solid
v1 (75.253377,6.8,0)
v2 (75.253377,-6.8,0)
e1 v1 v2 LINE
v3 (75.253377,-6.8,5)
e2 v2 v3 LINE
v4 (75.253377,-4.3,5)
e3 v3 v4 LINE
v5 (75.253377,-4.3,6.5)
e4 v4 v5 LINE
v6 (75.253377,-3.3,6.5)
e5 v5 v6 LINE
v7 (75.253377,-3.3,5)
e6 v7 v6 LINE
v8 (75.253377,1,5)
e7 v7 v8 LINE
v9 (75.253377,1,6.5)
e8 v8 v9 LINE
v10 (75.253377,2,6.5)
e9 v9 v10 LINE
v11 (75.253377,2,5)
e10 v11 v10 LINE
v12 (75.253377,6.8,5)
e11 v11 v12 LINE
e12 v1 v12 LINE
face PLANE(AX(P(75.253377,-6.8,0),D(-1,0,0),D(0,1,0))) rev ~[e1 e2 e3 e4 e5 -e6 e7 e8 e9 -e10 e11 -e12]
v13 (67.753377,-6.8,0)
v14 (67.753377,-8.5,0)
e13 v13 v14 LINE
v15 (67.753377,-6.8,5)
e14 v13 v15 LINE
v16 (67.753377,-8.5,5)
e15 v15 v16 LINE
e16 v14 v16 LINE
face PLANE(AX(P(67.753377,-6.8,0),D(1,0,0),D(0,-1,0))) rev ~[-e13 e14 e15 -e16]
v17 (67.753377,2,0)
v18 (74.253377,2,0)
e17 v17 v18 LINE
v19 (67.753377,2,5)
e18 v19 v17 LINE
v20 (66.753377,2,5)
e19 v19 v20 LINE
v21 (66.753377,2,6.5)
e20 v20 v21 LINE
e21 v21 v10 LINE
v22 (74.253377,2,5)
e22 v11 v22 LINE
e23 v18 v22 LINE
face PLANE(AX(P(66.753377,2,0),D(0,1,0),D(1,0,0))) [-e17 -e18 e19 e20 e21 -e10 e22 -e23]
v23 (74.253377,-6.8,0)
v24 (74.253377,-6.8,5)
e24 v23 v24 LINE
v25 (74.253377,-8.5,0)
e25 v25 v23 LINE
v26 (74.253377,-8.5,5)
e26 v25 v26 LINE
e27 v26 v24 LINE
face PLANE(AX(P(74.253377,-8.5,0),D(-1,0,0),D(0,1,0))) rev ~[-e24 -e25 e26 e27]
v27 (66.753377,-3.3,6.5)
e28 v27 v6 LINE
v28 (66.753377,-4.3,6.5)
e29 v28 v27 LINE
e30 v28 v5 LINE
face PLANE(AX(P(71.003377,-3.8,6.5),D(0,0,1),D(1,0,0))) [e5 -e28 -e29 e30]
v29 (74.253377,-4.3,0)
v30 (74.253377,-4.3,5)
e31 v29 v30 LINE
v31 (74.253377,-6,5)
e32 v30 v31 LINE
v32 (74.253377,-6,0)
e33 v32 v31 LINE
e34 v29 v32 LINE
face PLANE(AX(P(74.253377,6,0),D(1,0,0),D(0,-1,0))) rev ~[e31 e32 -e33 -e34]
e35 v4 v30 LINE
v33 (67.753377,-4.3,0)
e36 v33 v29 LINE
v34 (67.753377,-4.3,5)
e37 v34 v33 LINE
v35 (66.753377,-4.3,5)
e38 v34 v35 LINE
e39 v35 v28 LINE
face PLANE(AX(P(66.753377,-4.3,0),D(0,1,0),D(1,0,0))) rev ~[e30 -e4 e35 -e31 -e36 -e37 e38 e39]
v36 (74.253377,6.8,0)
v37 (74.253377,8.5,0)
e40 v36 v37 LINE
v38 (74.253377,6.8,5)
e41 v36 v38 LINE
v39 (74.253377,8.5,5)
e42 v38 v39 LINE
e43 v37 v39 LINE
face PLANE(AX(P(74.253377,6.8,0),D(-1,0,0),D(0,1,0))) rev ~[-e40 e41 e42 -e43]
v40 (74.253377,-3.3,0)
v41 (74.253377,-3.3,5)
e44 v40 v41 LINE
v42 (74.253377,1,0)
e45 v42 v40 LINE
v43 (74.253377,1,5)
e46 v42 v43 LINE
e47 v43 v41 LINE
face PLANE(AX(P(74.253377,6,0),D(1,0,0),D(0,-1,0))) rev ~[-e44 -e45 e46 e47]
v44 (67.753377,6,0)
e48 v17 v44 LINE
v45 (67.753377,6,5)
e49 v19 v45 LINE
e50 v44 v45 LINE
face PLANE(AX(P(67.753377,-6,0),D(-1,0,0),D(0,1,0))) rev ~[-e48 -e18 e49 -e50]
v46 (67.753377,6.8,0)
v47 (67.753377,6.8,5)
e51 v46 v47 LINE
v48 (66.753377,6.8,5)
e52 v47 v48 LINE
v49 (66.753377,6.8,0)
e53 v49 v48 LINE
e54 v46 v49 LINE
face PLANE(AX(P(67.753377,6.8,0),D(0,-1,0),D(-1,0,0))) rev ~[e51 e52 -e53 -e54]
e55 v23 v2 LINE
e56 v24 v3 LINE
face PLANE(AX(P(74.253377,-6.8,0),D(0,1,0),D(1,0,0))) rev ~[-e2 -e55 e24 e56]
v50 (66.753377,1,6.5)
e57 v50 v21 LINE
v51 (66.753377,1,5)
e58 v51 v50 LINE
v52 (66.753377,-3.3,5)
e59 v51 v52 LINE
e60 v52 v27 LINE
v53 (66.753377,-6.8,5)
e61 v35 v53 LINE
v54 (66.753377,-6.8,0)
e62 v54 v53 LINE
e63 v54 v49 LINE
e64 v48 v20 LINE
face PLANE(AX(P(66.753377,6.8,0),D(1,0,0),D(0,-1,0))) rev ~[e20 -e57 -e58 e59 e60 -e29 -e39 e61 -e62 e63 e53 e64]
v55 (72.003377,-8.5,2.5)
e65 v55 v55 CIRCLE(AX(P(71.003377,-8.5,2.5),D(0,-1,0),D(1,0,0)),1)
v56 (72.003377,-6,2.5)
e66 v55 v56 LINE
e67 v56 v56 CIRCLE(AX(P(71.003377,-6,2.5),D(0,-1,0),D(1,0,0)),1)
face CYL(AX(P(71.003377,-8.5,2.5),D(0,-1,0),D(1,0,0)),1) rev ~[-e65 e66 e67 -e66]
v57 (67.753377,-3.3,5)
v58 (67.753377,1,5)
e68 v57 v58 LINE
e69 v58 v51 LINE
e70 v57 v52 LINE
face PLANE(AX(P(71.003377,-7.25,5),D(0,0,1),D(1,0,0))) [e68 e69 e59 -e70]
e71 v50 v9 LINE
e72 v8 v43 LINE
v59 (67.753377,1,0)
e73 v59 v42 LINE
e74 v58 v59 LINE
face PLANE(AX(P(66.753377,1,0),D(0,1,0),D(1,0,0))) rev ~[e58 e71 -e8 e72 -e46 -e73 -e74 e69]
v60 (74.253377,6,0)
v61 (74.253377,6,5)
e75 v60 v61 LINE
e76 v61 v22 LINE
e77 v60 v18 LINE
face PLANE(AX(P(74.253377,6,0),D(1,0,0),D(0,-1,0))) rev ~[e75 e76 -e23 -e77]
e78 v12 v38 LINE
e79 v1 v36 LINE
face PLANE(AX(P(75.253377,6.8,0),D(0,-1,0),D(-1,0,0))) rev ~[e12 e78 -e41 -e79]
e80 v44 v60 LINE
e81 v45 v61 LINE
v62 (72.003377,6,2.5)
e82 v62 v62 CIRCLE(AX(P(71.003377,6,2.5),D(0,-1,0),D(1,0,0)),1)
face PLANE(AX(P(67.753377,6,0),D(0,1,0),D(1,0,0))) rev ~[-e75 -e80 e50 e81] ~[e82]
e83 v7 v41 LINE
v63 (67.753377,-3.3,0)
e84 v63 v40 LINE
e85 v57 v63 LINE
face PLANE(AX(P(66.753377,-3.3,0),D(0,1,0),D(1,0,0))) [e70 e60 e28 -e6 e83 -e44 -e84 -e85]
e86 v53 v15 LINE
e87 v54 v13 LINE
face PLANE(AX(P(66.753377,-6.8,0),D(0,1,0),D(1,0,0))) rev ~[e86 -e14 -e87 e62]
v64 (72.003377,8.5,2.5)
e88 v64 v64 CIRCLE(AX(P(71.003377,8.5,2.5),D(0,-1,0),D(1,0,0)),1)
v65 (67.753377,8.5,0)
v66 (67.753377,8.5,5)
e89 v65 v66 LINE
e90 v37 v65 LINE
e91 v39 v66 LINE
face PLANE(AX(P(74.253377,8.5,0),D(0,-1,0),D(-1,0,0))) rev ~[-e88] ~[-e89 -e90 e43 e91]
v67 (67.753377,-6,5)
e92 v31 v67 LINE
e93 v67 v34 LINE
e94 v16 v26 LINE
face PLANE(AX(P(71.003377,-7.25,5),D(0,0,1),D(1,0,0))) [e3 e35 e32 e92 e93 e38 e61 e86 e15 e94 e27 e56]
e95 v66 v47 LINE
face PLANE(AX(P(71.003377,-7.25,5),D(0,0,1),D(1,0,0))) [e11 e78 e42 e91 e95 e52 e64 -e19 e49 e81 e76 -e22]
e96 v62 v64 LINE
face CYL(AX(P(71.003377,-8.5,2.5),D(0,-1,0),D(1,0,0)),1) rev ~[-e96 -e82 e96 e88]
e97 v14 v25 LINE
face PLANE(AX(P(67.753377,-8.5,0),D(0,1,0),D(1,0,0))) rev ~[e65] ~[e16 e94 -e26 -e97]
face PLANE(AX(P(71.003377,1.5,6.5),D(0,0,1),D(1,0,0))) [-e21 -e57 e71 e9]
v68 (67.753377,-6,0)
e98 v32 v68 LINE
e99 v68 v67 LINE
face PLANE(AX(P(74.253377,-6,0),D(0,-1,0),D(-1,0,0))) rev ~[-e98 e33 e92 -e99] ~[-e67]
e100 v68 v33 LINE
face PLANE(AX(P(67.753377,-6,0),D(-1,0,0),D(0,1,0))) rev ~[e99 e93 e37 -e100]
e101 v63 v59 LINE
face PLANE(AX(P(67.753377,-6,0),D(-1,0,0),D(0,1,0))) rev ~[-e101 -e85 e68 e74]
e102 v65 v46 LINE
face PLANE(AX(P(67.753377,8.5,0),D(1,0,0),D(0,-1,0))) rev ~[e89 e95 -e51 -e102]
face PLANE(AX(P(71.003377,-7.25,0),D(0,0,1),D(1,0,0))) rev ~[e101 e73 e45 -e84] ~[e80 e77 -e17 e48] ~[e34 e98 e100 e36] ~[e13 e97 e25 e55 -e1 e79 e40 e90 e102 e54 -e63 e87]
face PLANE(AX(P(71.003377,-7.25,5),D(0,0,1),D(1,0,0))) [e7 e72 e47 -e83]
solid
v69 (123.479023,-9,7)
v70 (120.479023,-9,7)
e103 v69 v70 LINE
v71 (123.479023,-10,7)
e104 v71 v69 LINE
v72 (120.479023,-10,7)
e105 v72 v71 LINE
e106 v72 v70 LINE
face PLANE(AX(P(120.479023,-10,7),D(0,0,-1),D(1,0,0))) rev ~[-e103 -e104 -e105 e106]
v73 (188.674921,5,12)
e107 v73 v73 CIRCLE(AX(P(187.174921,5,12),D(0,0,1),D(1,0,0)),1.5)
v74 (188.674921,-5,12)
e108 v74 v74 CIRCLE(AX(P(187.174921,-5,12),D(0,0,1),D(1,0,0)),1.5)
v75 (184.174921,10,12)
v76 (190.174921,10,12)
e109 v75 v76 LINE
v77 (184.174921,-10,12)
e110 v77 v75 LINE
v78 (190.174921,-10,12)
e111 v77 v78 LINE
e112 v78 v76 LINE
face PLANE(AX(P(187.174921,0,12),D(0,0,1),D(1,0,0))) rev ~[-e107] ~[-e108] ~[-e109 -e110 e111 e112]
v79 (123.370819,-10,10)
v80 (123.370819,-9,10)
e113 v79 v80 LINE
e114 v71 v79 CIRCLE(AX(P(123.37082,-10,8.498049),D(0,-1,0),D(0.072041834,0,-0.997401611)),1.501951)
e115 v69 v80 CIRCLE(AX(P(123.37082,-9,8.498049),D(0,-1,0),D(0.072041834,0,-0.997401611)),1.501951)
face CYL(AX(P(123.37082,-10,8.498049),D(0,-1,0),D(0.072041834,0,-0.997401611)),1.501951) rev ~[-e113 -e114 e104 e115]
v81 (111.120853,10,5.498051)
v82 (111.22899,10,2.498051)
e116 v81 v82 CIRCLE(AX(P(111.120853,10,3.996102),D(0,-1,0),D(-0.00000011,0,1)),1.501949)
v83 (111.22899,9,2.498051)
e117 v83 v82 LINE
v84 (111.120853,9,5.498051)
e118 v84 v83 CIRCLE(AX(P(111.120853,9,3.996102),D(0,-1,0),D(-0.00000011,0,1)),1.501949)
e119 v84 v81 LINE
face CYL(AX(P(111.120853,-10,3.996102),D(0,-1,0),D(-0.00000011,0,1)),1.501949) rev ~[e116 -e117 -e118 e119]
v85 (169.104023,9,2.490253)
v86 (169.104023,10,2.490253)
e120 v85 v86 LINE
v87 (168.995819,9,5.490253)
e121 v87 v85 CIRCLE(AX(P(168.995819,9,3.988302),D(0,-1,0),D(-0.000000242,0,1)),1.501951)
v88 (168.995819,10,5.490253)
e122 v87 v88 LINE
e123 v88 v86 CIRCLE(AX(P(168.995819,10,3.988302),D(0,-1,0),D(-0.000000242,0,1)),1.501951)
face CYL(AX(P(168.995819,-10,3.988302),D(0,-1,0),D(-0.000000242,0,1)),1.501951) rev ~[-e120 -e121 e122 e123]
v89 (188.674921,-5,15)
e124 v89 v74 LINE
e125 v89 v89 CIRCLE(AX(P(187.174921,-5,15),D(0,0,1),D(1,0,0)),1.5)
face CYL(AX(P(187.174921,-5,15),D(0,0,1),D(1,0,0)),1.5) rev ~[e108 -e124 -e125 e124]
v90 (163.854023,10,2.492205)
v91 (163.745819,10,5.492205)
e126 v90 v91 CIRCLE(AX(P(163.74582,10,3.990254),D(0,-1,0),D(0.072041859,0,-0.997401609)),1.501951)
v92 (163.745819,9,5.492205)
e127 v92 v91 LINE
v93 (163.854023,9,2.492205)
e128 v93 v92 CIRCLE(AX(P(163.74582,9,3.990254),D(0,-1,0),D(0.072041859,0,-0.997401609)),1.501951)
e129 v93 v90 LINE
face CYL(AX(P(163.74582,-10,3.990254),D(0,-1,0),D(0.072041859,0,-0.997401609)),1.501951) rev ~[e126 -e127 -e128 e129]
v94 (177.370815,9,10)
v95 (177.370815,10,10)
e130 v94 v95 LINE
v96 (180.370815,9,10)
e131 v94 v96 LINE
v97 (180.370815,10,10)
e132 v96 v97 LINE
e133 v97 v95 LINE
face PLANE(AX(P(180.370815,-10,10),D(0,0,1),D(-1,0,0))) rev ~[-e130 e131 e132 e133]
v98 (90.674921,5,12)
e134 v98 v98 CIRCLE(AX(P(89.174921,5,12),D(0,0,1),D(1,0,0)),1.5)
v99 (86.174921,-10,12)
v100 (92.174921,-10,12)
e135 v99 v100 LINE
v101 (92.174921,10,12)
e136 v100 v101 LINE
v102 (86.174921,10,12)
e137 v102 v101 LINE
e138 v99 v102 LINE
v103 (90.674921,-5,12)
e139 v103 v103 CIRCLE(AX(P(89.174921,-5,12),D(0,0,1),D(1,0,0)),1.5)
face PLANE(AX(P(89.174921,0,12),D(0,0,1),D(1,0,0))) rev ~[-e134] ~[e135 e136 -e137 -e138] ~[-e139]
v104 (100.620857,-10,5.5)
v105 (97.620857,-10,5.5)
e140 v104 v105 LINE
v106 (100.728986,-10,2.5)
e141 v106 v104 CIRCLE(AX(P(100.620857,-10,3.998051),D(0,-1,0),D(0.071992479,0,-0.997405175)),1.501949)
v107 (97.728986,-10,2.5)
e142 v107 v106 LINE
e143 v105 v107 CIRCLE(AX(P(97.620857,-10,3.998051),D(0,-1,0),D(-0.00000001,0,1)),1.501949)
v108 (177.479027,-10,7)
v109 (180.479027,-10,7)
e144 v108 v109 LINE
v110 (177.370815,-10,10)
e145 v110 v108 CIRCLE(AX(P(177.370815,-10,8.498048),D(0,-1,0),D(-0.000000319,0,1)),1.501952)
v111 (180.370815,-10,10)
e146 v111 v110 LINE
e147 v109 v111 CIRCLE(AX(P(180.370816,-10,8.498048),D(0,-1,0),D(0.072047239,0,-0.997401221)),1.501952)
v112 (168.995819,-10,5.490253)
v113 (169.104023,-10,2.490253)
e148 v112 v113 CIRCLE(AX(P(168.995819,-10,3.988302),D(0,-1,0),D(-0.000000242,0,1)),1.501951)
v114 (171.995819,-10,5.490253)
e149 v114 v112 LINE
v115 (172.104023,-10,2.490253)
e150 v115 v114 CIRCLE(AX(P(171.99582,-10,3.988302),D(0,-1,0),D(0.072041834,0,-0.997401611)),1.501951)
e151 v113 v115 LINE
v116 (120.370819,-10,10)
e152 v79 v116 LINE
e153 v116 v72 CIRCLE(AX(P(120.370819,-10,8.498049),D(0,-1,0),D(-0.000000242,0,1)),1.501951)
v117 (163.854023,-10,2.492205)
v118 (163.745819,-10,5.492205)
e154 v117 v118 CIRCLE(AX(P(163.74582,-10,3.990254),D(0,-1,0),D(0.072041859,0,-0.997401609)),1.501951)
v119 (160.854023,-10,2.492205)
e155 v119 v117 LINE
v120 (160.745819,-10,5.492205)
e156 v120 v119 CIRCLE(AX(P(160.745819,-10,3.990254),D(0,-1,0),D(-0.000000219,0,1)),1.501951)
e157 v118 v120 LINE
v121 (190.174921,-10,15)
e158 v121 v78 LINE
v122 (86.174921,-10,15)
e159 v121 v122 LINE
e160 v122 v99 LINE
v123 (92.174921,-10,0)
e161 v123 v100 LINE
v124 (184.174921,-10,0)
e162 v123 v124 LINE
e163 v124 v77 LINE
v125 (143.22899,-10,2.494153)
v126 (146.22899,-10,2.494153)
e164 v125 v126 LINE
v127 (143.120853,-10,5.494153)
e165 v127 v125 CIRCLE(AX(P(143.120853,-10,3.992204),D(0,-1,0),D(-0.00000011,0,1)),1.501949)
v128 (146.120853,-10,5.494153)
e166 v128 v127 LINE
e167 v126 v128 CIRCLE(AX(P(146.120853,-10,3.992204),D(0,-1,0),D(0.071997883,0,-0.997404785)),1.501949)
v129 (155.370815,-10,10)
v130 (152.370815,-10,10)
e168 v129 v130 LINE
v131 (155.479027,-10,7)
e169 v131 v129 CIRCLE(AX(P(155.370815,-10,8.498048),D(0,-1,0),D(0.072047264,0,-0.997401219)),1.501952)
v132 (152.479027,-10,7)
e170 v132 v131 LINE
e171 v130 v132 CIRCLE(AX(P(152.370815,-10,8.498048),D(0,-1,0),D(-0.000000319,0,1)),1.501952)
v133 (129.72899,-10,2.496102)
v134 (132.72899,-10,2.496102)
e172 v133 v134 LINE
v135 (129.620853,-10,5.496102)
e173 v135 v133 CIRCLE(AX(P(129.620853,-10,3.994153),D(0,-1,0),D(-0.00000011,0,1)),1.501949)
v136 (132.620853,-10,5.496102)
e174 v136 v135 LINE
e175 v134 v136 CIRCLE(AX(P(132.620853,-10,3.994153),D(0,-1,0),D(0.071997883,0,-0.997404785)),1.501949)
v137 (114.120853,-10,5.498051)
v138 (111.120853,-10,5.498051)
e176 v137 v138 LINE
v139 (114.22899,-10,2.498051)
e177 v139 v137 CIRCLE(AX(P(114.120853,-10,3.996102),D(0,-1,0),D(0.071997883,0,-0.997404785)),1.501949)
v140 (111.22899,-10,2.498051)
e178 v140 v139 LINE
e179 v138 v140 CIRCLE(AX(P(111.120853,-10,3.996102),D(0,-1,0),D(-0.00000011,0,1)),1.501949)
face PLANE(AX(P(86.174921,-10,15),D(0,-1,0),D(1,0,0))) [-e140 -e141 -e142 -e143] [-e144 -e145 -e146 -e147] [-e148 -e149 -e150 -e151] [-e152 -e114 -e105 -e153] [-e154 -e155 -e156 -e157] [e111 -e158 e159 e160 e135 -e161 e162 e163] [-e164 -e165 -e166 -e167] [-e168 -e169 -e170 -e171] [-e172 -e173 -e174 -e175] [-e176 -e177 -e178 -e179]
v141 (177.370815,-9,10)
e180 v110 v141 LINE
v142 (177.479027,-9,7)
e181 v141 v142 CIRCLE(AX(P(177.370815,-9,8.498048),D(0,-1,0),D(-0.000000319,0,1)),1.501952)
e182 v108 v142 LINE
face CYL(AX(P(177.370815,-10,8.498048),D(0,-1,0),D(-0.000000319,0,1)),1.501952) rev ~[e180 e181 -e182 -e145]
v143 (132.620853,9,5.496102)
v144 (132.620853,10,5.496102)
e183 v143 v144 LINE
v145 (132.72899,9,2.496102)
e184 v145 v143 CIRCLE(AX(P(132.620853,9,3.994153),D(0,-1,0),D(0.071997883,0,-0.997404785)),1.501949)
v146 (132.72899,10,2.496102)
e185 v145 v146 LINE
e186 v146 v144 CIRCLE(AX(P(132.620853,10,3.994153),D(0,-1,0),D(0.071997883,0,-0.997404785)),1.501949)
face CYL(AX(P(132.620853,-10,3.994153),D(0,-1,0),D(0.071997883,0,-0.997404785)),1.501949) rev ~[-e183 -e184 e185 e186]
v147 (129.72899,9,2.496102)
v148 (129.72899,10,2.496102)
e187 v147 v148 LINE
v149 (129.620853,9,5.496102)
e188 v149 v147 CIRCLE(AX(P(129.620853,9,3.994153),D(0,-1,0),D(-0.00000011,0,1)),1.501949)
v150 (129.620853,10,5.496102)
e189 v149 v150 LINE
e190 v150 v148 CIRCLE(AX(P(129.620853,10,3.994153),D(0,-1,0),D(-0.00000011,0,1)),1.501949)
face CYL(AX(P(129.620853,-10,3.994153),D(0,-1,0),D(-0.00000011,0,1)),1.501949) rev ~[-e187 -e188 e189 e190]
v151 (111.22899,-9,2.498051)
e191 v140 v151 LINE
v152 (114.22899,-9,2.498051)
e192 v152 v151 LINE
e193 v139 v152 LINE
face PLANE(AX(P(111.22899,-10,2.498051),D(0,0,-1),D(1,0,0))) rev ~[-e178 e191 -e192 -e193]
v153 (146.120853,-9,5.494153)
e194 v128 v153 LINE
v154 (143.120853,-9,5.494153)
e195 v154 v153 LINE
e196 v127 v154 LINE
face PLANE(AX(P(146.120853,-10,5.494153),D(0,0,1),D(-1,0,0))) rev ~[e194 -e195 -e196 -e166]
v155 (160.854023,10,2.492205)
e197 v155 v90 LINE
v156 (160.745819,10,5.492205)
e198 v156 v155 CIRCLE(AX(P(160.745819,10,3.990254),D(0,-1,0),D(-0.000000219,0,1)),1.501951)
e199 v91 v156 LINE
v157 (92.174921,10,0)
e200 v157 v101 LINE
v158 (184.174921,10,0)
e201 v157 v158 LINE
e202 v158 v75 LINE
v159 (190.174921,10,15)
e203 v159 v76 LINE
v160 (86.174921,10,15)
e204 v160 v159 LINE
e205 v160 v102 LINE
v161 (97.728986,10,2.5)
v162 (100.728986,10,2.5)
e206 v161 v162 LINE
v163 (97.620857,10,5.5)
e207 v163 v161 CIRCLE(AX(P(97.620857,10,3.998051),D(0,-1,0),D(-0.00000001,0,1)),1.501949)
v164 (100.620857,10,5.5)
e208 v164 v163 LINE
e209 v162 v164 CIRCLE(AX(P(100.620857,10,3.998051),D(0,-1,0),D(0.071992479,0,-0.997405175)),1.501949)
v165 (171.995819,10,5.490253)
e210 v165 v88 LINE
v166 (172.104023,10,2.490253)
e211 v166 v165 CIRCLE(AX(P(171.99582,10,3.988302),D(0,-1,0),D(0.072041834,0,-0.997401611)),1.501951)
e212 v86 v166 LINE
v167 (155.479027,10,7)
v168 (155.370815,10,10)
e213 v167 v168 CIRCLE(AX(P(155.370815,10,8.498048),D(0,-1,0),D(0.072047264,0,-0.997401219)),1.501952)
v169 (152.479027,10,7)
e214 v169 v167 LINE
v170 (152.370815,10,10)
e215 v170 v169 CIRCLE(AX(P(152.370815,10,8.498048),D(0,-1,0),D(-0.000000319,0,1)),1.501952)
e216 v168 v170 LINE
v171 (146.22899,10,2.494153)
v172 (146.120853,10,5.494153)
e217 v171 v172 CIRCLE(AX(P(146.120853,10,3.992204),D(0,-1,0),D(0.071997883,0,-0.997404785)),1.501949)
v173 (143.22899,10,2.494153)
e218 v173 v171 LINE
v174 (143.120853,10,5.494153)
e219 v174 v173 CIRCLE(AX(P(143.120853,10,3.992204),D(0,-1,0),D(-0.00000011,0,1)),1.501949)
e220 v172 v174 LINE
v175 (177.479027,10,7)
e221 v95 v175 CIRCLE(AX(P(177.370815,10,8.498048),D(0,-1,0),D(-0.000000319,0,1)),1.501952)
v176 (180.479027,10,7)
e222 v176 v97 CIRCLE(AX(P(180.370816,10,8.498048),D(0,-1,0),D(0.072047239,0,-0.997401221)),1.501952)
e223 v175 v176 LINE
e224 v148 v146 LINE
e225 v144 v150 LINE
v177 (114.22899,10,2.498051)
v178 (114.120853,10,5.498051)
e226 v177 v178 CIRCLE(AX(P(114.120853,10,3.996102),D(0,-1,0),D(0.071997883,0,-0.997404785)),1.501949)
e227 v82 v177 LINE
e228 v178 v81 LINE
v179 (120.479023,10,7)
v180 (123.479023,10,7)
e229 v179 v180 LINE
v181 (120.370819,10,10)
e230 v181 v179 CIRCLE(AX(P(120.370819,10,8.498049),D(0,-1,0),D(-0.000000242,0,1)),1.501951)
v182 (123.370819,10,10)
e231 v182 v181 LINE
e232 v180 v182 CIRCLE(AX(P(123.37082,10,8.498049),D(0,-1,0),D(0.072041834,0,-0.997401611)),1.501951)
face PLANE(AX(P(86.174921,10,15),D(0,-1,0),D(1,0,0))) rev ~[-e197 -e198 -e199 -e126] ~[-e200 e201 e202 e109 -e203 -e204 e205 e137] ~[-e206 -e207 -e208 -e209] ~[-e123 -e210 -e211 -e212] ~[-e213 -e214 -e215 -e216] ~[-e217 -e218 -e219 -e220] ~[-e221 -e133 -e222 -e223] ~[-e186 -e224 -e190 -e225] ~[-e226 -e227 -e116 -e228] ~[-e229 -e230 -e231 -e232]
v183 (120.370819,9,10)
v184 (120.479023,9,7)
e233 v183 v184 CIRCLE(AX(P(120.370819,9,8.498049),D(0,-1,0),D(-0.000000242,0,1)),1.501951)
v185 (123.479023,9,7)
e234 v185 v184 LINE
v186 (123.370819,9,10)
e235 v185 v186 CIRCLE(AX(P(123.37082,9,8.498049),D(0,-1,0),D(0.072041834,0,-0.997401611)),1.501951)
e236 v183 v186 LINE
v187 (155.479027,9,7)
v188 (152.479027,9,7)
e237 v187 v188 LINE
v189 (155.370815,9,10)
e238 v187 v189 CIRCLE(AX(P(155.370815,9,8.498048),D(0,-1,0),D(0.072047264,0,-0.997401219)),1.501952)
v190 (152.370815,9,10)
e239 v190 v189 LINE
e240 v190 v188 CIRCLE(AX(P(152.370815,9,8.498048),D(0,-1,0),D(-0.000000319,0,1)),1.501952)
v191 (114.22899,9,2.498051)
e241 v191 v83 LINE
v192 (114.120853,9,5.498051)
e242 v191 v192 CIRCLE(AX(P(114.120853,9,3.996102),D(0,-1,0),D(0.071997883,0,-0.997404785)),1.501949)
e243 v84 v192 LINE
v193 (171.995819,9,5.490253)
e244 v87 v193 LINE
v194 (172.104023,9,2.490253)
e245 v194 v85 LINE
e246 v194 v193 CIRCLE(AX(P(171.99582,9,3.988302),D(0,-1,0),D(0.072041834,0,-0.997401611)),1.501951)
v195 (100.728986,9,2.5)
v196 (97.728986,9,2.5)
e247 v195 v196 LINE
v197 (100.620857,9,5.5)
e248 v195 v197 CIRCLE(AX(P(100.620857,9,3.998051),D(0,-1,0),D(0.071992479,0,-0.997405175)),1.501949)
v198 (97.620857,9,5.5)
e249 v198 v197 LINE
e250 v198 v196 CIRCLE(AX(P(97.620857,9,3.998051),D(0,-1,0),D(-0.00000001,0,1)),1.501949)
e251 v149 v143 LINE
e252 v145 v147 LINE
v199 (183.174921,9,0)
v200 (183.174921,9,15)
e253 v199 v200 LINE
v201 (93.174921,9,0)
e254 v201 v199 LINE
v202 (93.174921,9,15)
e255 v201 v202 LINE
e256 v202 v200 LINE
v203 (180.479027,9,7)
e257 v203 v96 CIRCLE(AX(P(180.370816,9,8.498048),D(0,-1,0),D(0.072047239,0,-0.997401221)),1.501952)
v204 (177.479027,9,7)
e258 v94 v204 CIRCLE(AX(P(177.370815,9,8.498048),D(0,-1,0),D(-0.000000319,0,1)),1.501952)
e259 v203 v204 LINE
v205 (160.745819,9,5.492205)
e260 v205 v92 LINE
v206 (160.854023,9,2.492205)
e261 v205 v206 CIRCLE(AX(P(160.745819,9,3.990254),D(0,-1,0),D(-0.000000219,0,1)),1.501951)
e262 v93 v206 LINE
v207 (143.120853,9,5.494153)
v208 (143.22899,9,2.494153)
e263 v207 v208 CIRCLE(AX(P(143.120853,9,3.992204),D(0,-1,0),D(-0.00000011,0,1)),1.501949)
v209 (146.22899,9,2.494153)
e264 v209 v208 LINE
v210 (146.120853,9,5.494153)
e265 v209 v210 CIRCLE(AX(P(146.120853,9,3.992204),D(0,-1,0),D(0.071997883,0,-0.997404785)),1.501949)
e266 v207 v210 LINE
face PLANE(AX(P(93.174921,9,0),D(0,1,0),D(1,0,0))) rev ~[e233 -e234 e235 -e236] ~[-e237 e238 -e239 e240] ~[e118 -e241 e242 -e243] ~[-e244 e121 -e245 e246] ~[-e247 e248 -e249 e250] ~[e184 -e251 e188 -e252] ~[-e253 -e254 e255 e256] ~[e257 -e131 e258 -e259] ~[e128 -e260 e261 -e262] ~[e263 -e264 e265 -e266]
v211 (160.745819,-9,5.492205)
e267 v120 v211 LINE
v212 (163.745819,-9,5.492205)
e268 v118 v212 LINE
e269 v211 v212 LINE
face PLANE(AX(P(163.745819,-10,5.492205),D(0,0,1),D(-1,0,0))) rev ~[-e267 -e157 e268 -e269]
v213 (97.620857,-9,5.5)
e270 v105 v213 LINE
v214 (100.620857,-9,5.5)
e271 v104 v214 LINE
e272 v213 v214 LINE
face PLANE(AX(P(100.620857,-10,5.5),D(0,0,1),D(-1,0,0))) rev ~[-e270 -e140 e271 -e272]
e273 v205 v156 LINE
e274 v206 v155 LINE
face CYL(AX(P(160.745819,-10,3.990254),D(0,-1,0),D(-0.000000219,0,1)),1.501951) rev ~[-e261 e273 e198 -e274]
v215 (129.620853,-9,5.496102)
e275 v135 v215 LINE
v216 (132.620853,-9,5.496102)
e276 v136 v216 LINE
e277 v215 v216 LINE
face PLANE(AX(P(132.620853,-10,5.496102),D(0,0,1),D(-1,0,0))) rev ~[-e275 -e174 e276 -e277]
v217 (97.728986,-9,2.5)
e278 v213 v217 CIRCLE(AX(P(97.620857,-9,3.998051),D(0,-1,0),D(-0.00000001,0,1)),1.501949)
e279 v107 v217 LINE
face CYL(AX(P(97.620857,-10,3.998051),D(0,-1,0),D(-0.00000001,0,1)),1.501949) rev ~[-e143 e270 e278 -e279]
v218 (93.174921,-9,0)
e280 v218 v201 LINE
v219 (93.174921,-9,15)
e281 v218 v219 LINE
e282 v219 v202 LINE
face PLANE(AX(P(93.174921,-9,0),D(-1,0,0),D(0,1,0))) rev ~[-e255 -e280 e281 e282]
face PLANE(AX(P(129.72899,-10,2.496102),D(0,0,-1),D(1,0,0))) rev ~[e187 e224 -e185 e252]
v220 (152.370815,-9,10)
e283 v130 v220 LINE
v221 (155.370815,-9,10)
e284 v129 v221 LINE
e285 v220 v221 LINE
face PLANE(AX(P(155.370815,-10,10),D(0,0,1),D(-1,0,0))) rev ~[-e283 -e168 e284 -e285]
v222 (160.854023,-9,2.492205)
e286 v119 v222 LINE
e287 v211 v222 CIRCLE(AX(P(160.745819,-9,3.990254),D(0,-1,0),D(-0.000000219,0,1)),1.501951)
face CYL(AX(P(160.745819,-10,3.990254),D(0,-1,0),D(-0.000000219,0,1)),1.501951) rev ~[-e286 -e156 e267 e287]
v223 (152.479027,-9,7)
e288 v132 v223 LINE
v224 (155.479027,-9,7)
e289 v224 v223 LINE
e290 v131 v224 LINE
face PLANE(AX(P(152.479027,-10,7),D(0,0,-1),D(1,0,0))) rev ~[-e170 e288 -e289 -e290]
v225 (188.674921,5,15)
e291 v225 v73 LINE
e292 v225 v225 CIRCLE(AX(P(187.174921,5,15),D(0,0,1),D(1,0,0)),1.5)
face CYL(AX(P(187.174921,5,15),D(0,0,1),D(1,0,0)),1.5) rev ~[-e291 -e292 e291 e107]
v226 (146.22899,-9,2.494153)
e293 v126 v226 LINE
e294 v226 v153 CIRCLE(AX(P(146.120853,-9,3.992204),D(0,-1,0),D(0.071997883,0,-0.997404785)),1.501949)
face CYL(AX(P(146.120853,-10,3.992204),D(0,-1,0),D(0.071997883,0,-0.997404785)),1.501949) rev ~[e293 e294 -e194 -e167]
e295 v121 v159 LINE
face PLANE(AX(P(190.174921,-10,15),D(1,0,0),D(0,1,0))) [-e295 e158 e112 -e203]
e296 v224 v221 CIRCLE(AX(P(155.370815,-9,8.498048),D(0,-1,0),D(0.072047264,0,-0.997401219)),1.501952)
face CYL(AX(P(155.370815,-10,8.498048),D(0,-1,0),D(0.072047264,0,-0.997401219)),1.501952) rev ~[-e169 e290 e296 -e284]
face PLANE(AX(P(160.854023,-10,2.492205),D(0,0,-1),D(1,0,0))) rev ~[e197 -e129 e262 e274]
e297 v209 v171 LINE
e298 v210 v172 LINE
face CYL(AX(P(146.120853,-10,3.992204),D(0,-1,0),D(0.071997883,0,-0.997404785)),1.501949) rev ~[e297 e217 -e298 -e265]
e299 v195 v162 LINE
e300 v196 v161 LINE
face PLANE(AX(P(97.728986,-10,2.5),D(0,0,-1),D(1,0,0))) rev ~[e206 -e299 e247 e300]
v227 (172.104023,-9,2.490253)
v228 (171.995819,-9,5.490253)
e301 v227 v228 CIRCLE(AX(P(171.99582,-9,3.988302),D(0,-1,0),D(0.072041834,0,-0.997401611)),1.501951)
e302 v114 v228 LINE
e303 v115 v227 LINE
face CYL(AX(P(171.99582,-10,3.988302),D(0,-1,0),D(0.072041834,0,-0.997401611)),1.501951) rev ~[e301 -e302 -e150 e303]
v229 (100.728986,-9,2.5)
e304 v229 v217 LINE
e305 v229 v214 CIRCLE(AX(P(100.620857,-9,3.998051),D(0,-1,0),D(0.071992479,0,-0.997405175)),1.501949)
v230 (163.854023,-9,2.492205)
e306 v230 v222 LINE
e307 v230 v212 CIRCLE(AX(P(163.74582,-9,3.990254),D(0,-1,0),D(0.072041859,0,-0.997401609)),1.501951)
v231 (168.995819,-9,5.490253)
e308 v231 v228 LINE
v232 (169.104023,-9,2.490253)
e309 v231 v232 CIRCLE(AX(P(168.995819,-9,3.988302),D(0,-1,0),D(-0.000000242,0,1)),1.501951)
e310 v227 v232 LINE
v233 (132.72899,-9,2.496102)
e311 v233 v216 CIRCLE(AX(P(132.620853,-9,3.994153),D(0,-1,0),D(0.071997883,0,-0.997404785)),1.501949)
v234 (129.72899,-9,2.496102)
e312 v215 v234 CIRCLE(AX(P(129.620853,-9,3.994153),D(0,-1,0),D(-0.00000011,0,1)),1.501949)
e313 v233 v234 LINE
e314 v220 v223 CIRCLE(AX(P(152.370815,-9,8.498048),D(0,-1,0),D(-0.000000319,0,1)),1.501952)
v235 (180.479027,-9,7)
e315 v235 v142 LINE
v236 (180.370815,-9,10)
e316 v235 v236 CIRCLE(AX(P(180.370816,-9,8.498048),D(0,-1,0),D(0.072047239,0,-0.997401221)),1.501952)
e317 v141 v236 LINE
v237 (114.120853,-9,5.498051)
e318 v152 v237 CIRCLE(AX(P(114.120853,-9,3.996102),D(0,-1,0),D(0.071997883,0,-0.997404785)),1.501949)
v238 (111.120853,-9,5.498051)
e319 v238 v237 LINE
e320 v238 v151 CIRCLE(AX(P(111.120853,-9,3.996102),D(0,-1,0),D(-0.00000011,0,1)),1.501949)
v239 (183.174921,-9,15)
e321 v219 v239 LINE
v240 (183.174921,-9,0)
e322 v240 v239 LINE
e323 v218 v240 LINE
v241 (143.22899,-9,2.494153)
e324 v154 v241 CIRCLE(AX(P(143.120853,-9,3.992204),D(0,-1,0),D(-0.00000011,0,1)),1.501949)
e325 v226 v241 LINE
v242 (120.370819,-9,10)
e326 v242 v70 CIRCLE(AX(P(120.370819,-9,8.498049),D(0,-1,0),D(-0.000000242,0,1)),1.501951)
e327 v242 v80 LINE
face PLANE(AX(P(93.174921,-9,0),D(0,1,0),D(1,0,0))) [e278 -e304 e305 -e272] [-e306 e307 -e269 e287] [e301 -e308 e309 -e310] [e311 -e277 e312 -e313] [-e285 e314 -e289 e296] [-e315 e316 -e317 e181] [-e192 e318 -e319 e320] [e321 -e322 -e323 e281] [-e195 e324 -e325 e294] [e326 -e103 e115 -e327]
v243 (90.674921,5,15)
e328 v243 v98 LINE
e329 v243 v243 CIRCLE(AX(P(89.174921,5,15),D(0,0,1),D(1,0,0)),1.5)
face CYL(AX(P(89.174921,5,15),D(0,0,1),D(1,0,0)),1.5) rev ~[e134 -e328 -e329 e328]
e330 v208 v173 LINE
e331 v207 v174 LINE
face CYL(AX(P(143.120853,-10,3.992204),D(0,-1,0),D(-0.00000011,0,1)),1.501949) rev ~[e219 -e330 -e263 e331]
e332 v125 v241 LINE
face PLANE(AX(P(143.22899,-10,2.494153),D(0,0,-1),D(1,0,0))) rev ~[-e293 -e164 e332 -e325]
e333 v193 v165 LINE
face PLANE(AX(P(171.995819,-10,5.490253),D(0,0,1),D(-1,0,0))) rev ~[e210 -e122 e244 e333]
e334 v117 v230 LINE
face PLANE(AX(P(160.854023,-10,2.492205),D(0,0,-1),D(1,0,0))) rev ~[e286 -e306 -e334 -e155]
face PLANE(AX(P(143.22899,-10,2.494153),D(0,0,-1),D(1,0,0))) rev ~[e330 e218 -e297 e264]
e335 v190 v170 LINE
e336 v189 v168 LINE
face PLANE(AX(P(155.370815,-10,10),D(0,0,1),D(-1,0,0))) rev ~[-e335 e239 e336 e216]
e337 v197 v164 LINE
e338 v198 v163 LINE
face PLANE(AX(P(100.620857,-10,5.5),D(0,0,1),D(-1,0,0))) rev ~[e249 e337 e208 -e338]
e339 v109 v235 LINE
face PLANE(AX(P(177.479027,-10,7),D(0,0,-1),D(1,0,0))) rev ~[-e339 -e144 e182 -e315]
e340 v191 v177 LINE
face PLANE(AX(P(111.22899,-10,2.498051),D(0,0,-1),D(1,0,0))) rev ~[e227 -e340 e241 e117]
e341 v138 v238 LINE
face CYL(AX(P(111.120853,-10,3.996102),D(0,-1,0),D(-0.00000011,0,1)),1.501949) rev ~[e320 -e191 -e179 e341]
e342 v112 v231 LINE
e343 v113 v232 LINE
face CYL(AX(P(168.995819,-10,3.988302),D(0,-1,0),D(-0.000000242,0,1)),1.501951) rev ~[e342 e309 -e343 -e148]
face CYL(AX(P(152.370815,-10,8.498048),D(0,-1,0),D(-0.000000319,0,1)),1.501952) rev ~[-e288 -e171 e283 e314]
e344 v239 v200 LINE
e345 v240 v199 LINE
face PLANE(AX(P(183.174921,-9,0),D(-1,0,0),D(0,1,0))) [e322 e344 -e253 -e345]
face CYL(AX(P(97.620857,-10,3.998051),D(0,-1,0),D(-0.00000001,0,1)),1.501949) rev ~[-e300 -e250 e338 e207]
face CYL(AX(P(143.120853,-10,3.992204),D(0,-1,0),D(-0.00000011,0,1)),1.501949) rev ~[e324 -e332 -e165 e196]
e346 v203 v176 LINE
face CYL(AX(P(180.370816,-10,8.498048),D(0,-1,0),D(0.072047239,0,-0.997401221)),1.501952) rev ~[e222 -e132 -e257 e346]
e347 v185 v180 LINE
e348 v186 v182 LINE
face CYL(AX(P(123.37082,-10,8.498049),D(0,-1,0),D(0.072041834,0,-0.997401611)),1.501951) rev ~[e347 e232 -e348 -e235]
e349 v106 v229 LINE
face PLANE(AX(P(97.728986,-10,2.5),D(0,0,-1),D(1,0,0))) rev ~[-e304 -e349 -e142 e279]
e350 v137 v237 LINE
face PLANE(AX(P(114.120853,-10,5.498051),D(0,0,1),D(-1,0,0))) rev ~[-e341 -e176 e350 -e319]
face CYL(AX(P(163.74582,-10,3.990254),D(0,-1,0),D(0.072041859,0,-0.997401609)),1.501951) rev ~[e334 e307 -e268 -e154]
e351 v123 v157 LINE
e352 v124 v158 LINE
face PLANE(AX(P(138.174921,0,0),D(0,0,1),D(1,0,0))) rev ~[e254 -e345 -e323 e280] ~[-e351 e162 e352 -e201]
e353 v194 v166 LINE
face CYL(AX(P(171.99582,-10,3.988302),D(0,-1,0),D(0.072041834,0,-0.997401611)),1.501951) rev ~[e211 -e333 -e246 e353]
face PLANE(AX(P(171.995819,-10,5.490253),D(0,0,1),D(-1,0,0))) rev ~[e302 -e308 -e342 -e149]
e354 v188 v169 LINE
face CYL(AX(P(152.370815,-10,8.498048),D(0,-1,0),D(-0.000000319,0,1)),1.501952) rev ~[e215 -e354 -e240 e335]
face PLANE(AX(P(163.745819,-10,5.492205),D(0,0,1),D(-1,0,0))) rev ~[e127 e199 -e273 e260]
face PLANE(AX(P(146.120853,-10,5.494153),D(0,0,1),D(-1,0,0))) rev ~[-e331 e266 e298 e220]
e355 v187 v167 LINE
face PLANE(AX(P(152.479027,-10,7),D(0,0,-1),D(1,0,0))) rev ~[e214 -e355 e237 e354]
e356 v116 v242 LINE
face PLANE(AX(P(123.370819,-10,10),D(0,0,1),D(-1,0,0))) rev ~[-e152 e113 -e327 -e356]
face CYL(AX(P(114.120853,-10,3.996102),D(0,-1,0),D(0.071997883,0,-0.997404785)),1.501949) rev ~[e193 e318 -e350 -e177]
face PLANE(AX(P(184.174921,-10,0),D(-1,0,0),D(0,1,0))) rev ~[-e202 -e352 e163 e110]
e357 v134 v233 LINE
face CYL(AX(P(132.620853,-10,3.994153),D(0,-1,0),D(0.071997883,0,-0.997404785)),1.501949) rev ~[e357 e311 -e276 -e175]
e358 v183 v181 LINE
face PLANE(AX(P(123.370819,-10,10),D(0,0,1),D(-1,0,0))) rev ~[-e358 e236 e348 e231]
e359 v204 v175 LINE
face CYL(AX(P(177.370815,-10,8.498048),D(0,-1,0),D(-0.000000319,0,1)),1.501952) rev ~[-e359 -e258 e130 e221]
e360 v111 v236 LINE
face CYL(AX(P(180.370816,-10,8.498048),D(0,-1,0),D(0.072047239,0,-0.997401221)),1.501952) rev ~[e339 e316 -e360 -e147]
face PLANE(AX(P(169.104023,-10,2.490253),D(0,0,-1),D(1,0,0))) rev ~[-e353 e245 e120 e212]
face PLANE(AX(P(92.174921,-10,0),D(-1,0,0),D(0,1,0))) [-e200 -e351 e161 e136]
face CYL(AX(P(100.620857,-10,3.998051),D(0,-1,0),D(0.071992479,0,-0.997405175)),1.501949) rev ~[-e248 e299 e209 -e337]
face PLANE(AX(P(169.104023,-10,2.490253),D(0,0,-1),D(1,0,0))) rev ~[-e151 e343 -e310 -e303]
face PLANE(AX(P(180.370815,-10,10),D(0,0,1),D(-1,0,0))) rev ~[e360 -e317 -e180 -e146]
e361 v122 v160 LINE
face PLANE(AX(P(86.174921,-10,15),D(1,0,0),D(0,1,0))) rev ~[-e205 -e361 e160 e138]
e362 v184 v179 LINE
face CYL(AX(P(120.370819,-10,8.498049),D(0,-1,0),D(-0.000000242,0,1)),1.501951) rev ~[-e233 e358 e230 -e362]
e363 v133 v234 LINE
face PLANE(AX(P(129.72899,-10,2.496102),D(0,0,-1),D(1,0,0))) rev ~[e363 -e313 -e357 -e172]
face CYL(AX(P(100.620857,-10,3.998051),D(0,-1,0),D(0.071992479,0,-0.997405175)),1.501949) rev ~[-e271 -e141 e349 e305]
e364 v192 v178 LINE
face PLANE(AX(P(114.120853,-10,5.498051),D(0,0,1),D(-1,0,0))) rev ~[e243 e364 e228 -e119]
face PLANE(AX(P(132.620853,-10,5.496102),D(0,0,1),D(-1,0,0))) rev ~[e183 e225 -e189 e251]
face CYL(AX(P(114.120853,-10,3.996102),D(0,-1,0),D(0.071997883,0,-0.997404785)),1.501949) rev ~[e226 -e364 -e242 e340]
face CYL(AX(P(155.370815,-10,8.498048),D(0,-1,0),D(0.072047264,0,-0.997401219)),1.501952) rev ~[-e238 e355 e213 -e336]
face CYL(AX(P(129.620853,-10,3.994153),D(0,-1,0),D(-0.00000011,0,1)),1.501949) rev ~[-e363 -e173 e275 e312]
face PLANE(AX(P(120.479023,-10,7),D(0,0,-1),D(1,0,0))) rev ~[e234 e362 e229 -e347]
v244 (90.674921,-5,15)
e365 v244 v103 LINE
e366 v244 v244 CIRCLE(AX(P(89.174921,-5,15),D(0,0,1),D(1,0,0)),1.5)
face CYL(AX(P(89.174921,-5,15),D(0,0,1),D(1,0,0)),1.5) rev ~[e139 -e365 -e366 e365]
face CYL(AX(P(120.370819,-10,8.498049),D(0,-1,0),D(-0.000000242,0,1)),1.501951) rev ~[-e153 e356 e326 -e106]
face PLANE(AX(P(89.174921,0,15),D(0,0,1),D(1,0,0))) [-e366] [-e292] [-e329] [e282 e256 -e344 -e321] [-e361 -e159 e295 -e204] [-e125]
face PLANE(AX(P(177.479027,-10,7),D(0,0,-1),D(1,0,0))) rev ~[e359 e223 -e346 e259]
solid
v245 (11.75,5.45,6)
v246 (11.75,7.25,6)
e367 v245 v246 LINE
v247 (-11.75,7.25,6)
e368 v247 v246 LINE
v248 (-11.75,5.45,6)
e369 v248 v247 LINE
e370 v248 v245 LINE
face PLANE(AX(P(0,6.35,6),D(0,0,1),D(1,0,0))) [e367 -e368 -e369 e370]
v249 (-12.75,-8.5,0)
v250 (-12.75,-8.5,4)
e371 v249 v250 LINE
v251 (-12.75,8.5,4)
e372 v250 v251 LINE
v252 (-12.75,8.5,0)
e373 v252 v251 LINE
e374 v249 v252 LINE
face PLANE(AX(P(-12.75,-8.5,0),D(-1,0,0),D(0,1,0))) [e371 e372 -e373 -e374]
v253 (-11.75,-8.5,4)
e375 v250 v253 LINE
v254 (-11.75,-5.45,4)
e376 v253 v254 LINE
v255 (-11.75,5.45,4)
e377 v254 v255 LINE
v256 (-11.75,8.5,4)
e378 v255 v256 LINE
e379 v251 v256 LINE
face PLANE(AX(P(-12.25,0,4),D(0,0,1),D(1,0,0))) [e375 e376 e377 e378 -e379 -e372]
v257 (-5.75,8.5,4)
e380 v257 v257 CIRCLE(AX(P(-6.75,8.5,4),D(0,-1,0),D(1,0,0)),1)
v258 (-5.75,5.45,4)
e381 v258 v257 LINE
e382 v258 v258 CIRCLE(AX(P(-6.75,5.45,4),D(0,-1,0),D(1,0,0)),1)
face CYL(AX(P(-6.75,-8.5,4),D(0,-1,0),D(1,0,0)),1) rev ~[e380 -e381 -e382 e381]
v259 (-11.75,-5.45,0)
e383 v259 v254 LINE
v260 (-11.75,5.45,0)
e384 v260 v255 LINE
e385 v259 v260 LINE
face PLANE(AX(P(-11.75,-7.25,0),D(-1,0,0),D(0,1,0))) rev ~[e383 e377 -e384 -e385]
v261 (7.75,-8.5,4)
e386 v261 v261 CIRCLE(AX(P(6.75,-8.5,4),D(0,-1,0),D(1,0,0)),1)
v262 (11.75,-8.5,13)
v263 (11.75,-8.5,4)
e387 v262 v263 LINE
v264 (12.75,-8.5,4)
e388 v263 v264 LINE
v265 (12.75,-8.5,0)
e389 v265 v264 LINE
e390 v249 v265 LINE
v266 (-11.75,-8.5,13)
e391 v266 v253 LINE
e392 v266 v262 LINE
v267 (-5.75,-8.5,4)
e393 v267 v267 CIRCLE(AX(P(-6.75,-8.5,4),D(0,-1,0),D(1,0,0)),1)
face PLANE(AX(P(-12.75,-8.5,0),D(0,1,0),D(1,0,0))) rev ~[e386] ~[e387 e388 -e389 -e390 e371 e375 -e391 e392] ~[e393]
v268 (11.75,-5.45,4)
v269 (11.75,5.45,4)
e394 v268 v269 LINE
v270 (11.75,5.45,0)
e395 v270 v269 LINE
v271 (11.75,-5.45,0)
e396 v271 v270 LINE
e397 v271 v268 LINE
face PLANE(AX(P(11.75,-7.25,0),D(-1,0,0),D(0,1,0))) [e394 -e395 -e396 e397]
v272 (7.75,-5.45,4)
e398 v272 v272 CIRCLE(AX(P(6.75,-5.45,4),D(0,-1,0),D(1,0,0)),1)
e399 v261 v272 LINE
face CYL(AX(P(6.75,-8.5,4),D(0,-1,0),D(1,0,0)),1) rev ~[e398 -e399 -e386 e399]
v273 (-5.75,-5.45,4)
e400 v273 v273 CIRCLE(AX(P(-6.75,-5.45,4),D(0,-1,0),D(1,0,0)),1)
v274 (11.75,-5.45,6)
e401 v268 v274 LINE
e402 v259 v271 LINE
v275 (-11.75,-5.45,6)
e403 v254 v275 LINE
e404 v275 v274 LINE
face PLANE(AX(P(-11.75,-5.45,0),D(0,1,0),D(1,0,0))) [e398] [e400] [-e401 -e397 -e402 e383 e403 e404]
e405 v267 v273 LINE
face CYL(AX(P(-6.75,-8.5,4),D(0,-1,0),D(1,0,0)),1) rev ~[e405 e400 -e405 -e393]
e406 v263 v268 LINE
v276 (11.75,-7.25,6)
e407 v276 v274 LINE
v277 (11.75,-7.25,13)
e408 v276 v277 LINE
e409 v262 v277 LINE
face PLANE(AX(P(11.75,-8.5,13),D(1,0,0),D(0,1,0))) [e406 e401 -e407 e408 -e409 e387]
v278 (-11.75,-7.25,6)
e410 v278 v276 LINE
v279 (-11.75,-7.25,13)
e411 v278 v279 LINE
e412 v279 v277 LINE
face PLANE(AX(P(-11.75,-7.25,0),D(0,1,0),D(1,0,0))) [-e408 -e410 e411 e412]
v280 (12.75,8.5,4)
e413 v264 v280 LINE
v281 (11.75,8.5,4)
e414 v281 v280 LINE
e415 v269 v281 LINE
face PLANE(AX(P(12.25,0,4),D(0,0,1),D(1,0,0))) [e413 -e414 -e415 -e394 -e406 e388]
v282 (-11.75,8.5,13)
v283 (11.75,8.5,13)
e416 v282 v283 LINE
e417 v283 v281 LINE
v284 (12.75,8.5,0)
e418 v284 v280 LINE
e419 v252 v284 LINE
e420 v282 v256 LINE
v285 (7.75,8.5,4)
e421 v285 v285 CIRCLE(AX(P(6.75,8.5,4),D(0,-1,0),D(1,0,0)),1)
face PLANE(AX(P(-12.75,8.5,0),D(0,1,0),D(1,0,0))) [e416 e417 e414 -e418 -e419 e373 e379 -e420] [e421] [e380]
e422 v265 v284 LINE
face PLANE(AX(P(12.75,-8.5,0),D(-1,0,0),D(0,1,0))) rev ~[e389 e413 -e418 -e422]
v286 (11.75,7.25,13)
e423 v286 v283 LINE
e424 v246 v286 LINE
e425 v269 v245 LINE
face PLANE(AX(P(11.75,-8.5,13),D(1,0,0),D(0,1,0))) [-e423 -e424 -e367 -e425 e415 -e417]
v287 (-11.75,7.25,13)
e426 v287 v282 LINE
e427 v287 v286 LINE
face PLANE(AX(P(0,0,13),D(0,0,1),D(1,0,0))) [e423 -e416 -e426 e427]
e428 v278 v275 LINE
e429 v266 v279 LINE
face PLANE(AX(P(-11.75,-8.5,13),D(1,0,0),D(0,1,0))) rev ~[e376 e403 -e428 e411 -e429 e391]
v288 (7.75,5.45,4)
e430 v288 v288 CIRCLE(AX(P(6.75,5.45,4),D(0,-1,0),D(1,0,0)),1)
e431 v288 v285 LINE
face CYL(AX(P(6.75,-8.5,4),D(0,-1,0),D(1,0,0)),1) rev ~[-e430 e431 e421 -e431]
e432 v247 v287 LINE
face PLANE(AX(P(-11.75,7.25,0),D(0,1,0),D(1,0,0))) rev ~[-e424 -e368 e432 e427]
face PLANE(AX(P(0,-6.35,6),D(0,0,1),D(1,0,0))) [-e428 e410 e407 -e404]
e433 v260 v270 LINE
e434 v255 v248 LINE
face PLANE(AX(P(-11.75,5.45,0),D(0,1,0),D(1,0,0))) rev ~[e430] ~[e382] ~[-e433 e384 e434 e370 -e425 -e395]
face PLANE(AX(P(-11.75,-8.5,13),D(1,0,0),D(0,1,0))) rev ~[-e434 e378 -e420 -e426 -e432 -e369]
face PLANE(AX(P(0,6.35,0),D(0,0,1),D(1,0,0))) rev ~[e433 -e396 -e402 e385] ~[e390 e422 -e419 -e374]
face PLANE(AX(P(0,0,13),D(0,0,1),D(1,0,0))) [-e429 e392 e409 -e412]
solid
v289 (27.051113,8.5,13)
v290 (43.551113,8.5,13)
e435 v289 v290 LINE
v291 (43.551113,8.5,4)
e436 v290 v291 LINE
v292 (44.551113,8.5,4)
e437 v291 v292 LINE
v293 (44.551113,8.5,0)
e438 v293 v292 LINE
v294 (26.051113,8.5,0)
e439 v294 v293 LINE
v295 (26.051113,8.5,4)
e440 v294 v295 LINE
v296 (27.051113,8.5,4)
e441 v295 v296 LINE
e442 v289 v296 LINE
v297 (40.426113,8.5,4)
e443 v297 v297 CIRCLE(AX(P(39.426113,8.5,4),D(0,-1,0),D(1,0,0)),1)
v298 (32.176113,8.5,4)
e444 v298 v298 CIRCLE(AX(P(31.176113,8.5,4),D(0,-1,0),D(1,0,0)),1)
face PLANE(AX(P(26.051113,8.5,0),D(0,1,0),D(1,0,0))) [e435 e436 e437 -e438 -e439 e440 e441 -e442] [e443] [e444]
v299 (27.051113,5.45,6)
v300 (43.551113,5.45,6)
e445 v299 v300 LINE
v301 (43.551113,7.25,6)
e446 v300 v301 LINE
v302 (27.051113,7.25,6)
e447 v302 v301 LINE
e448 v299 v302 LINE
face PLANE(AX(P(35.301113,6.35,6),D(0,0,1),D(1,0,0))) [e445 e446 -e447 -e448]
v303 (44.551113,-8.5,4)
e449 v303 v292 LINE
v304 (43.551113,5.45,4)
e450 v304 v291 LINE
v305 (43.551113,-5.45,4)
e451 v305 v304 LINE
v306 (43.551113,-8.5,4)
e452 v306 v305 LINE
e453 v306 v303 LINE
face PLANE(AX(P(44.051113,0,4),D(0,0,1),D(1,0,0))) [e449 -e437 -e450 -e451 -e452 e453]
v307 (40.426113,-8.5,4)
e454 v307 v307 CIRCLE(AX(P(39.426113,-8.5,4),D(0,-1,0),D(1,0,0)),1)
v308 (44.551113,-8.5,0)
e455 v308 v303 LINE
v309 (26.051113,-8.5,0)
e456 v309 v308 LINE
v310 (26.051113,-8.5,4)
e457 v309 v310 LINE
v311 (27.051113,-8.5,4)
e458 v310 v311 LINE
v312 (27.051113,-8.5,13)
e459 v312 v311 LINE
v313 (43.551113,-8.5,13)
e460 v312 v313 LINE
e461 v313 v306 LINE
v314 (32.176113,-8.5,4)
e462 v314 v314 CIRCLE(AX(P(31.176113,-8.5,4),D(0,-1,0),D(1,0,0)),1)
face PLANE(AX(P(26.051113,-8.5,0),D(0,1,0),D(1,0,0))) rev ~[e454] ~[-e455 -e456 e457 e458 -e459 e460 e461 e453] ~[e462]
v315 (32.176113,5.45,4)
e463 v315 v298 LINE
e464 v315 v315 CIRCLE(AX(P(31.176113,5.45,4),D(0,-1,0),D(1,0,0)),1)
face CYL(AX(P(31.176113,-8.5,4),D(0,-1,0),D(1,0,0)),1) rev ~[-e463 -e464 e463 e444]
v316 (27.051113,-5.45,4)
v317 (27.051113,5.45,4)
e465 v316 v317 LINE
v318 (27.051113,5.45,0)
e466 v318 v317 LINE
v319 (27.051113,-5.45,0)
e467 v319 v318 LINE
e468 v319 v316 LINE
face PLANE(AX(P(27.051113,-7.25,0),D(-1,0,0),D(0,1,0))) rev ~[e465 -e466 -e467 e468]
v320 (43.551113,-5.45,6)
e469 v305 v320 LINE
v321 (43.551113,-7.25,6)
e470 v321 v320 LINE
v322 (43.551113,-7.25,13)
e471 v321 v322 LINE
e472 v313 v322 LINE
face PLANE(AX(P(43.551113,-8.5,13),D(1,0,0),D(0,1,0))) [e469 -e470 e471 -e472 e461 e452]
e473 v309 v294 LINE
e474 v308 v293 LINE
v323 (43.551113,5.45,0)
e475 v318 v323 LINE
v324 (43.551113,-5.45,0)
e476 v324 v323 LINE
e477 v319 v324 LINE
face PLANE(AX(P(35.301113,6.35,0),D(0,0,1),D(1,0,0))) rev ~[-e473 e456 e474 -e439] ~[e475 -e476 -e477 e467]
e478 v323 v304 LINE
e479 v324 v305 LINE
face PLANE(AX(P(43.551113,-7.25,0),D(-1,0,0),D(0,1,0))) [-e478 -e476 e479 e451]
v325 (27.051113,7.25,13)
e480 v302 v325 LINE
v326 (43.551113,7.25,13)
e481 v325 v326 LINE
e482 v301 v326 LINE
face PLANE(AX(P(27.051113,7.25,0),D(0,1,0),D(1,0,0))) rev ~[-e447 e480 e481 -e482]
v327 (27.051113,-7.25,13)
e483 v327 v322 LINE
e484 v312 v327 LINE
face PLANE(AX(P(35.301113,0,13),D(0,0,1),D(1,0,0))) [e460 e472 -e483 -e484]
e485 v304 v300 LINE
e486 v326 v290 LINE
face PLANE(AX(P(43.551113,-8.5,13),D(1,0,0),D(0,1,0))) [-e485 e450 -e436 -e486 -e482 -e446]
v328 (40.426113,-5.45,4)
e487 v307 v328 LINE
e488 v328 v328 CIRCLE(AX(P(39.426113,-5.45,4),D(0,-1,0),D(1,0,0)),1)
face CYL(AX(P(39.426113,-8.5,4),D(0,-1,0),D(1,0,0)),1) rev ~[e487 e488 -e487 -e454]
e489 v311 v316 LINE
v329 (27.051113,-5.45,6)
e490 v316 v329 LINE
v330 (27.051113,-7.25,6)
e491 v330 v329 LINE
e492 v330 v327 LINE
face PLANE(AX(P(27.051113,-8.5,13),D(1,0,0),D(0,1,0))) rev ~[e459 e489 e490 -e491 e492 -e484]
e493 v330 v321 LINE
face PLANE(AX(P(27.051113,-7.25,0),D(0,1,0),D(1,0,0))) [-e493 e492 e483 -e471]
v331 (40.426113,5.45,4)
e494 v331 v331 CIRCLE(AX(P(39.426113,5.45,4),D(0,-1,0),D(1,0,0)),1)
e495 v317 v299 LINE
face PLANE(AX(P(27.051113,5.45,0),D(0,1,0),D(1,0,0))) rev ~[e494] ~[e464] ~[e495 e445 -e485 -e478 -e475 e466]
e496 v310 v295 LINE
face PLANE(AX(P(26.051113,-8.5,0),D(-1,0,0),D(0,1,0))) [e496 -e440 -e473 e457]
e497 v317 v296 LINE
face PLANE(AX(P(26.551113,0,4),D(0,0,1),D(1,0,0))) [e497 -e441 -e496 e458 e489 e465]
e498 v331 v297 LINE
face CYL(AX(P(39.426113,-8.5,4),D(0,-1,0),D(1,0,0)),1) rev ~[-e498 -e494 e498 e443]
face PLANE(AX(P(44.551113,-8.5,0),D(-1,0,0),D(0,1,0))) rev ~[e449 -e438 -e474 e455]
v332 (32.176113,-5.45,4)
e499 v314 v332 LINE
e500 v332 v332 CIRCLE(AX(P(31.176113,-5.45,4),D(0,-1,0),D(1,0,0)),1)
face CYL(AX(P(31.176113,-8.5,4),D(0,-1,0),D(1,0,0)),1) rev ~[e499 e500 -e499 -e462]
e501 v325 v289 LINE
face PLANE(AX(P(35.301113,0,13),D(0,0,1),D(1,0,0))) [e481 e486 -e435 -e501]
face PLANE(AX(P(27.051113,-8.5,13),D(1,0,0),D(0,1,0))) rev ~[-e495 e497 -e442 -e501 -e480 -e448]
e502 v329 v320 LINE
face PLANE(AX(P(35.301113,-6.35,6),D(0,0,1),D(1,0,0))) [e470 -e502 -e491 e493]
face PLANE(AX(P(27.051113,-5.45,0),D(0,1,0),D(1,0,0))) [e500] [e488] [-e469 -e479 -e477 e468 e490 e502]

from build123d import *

# Parameters (mm, degrees)
F0_W      = 25.5
F0_H      = 17
F0_W_2    = 23.5
F0_H_2    = 14.5
F0_W_3    = 18.5
F0_W_4    = 16.5
F1_DEPTH  = 13
F2_W      = 23.5
F2_H      = 1.8
F2_W_2    = 16.5
F3_DEPTH  = 6
F4_W      = 1
F4_H      = 17
F5_DEPTH  = 9
F7_DEPTH  = 5
F8_R      = 1
F9_DEPTH  = 25
F10_W     = 8.5
F10_H     = 1
F11_DEPTH = 6.5
F12_W     = 92
F12_H     = 20
F12_W_2   = 90
F12_H_2   = 18
F13_DEPTH = 15
F14_W     = 6
F14_H     = 20
F14_R     = 1.5
F15_DEPTH = 3
F17_DEPTH = 25


with BuildPart() as f1:
    # F0 (on Top) → F1 (new body)
    with BuildSketch(Plane.XY):
        Rectangle(F0_W, F0_H)
        Rectangle(F0_W_2, F0_H_2, mode=Mode.SUBTRACT)
        with Locations((35.301113, 0)):
            Rectangle(F0_W_3, F0_H)
        with Locations((35.301113, 0)):
            Rectangle(F0_W_4, F0_H_2, mode=Mode.SUBTRACT)
    extrude(amount=F1_DEPTH)

    # F2 (on Top) → F3 (join)
    with BuildSketch(Plane.XY):
        with Locations((0, 6.35)):
            Rectangle(F2_W, F2_H)
        with Locations((0, -6.35)):
            Rectangle(F2_W, F2_H)
        with Locations((35.301113, 6.35)):
            Rectangle(F2_W_2, F2_H)
        with Locations((35.301113, -6.35)):
            Rectangle(F2_W_2, F2_H)
    extrude(amount=F3_DEPTH)

    # F4 (on face) → F5 (cut)
    with BuildSketch(Plane.XY.offset(13)):
        with Locations((-12.25, 0)):
            Rectangle(F4_W, F4_H)
        with Locations((12.25, 0)):
            Rectangle(F4_W, F4_H)
        with Locations((26.551113, 0)):
            Rectangle(F4_W, F4_H)
        with Locations((44.051113, 0)):
            Rectangle(F4_W, F4_H)
    extrude(amount=-F5_DEPTH, mode=Mode.SUBTRACT)


with BuildPart() as f7:
    # F6 (on Top) → F7 (new body)
    with BuildSketch(Plane.XY):
        Polygon((67.753377, -6.8), (67.753377, -8.5), (74.253377, -8.5), (74.253377, -6.8), (74.253377, -6), (67.753377, -6), align=None)
        Polygon((66.753377, -6.8), (67.753377, -6.8), (67.753377, -6), (67.753377, 6), (67.753377, 6.8), (66.753377, 6.8), align=None)
        Polygon((74.253377, -6), (74.253377, -6.8), (75.253377, -6.8), (75.253377, 6.8), (74.253377, 6.8), (74.253377, 6), align=None)
        Polygon((67.753377, 6.8), (67.753377, 6), (74.253377, 6), (74.253377, 6.8), (74.253377, 8.5), (67.753377, 8.5), align=None)
    extrude(amount=F7_DEPTH)


with BuildPart() as f9_tool:
    # F8 (on face) → F9 (new body)
    with BuildSketch(Plane.XZ.offset(8.5)):
        with Locations((-6.75, 4)):
            Circle(F8_R)
        with Locations((6.75, 4)):
            Circle(F8_R)
        with Locations((31.176113, 4)):
            Circle(F8_R)
        with Locations((39.426113, 4)):
            Circle(F8_R)
        with Locations((71.003377, 2.5)):
            Circle(F8_R)
    extrude(amount=-F9_DEPTH)


with BuildPart() as f1_1:
    add(f1.part)

    # F9: cut by f9_tool
    add(f9_tool.part, mode=Mode.SUBTRACT)


with BuildPart() as f7_1:
    add(f7.part)

    # F9: cut by f9_tool
    add(f9_tool.part, mode=Mode.SUBTRACT)

    # F10 (on Top) → F11 (join)
    with BuildSketch(Plane.XY):
        with Locations((71.003377, 1.5)):
            Rectangle(F10_W, F10_H)
        with Locations((71.003377, -3.8)):
            Rectangle(F10_W, F10_H)
    extrude(amount=F11_DEPTH)


with BuildPart() as f13:
    # F12 (on Top) → F13 (new body)
    with BuildSketch(Plane.XY):
        with Locations((138.174921, 0)):
            Rectangle(F12_W, F12_H)
        with Locations((138.174921, 0)):
            Rectangle(F12_W_2, F12_H_2, mode=Mode.SUBTRACT)
    extrude(amount=F13_DEPTH)

    # F14 (on face) → F15 (join)
    with BuildSketch(Plane.XY.offset(15)):
        with Locations((89.174921, 0)):
            Rectangle(F14_W, F14_H)
        with Locations((89.174921, -5)):
            Circle(F14_R, mode=Mode.SUBTRACT)
        with Locations((89.174921, 5)):
            Circle(F14_R, mode=Mode.SUBTRACT)
        with Locations((187.174921, 0)):
            Rectangle(F14_W, F14_H)
        with Locations((187.174921, -5)):
            Circle(F14_R, mode=Mode.SUBTRACT)
        with Locations((187.174921, 5)):
            Circle(F14_R, mode=Mode.SUBTRACT)
    extrude(amount=-F15_DEPTH)

    # F16 (on face) → F17 (cut)
    with BuildSketch(Plane.XZ.offset(10)):
        with BuildLine():
            Line((97.728986, 2.5), (100.728986, 2.5))
            ThreePointArc((100.728986, 2.5), (102.121831, 4.052151), (100.620857, 5.5))
            Line((100.620857, 5.5), (97.620857, 5.5))
            ThreePointArc((97.620857, 5.5), (96.119883, 3.943952), (97.728986, 2.5))
        make_face()
        with BuildLine():
            Line((111.22899, 2.498051), (114.22899, 2.498051))
            ThreePointArc((114.22899, 2.498051), (115.621827, 4.050206), (114.120853, 5.498051))
            Line((114.120853, 5.498051), (111.120853, 5.498051))
            ThreePointArc((111.120853, 5.498051), (109.619879, 3.941999), (111.22899, 2.498051))
        make_face()
        with BuildLine():
            Line((129.72899, 2.496102), (132.72899, 2.496102))
            ThreePointArc((132.72899, 2.496102), (134.121827, 4.048257), (132.620853, 5.496102))
            Line((132.620853, 5.496102), (129.620853, 5.496102))
            ThreePointArc((129.620853, 5.496102), (128.119879, 3.94005), (129.72899, 2.496102))
        make_face()
        with BuildLine():
            Line((143.22899, 2.494153), (146.22899, 2.494153))
            ThreePointArc((146.22899, 2.494153), (147.621827, 4.046308), (146.120853, 5.494153))
            Line((146.120853, 5.494153), (143.120853, 5.494153))
            ThreePointArc((143.120853, 5.494153), (141.619879, 3.938101), (143.22899, 2.494153))
        make_face()
        with BuildLine():
            Line((160.854023, 2.492205), (163.854023, 2.492205))
            ThreePointArc((163.854023, 2.492205), (165.246795, 4.04439), (163.745819, 5.492205))
            Line((163.745819, 5.492205), (160.745819, 5.492205))
            ThreePointArc((160.745819, 5.492205), (159.244844, 3.936116), (160.854023, 2.492205))
        make_face()
        with BuildLine():
            Line((169.104023, 2.490253), (172.104023, 2.490253))
            ThreePointArc((172.104023, 2.490253), (173.496795, 4.042439), (171.995819, 5.490253))
            Line((171.995819, 5.490253), (168.995819, 5.490253))
            ThreePointArc((168.995819, 5.490253), (167.494844, 3.934165), (169.104023, 2.490253))
        make_face()
        with BuildLine():
            Line((120.479023, 7), (123.479023, 7))
            ThreePointArc((123.479023, 7), (124.871795, 8.552186), (123.370819, 10))
            Line((123.370819, 10), (120.370819, 10))
            ThreePointArc((120.370819, 10), (118.869844, 8.443912), (120.479023, 7))
        make_face()
        with BuildLine():
            Line((152.479027, 7), (155.479027, 7))
            ThreePointArc((155.479027, 7), (156.871791, 8.552189), (155.370815, 10))
            Line((155.370815, 10), (152.370815, 10))
            ThreePointArc((152.370815, 10), (150.86984, 8.443907), (152.479027, 7))
        make_face()
        with BuildLine():
            Line((177.479027, 7), (180.479027, 7))
            ThreePointArc((180.479027, 7), (181.871791, 8.55219), (180.370815, 10))
            Line((180.370815, 10), (177.370815, 10))
            ThreePointArc((177.370815, 10), (175.86984, 8.443907), (177.479027, 7))
        make_face()
    extrude(amount=-F17_DEPTH, mode=Mode.SUBTRACT)


solid = Compound([f1_1.part, f7_1.part, f13.part])
